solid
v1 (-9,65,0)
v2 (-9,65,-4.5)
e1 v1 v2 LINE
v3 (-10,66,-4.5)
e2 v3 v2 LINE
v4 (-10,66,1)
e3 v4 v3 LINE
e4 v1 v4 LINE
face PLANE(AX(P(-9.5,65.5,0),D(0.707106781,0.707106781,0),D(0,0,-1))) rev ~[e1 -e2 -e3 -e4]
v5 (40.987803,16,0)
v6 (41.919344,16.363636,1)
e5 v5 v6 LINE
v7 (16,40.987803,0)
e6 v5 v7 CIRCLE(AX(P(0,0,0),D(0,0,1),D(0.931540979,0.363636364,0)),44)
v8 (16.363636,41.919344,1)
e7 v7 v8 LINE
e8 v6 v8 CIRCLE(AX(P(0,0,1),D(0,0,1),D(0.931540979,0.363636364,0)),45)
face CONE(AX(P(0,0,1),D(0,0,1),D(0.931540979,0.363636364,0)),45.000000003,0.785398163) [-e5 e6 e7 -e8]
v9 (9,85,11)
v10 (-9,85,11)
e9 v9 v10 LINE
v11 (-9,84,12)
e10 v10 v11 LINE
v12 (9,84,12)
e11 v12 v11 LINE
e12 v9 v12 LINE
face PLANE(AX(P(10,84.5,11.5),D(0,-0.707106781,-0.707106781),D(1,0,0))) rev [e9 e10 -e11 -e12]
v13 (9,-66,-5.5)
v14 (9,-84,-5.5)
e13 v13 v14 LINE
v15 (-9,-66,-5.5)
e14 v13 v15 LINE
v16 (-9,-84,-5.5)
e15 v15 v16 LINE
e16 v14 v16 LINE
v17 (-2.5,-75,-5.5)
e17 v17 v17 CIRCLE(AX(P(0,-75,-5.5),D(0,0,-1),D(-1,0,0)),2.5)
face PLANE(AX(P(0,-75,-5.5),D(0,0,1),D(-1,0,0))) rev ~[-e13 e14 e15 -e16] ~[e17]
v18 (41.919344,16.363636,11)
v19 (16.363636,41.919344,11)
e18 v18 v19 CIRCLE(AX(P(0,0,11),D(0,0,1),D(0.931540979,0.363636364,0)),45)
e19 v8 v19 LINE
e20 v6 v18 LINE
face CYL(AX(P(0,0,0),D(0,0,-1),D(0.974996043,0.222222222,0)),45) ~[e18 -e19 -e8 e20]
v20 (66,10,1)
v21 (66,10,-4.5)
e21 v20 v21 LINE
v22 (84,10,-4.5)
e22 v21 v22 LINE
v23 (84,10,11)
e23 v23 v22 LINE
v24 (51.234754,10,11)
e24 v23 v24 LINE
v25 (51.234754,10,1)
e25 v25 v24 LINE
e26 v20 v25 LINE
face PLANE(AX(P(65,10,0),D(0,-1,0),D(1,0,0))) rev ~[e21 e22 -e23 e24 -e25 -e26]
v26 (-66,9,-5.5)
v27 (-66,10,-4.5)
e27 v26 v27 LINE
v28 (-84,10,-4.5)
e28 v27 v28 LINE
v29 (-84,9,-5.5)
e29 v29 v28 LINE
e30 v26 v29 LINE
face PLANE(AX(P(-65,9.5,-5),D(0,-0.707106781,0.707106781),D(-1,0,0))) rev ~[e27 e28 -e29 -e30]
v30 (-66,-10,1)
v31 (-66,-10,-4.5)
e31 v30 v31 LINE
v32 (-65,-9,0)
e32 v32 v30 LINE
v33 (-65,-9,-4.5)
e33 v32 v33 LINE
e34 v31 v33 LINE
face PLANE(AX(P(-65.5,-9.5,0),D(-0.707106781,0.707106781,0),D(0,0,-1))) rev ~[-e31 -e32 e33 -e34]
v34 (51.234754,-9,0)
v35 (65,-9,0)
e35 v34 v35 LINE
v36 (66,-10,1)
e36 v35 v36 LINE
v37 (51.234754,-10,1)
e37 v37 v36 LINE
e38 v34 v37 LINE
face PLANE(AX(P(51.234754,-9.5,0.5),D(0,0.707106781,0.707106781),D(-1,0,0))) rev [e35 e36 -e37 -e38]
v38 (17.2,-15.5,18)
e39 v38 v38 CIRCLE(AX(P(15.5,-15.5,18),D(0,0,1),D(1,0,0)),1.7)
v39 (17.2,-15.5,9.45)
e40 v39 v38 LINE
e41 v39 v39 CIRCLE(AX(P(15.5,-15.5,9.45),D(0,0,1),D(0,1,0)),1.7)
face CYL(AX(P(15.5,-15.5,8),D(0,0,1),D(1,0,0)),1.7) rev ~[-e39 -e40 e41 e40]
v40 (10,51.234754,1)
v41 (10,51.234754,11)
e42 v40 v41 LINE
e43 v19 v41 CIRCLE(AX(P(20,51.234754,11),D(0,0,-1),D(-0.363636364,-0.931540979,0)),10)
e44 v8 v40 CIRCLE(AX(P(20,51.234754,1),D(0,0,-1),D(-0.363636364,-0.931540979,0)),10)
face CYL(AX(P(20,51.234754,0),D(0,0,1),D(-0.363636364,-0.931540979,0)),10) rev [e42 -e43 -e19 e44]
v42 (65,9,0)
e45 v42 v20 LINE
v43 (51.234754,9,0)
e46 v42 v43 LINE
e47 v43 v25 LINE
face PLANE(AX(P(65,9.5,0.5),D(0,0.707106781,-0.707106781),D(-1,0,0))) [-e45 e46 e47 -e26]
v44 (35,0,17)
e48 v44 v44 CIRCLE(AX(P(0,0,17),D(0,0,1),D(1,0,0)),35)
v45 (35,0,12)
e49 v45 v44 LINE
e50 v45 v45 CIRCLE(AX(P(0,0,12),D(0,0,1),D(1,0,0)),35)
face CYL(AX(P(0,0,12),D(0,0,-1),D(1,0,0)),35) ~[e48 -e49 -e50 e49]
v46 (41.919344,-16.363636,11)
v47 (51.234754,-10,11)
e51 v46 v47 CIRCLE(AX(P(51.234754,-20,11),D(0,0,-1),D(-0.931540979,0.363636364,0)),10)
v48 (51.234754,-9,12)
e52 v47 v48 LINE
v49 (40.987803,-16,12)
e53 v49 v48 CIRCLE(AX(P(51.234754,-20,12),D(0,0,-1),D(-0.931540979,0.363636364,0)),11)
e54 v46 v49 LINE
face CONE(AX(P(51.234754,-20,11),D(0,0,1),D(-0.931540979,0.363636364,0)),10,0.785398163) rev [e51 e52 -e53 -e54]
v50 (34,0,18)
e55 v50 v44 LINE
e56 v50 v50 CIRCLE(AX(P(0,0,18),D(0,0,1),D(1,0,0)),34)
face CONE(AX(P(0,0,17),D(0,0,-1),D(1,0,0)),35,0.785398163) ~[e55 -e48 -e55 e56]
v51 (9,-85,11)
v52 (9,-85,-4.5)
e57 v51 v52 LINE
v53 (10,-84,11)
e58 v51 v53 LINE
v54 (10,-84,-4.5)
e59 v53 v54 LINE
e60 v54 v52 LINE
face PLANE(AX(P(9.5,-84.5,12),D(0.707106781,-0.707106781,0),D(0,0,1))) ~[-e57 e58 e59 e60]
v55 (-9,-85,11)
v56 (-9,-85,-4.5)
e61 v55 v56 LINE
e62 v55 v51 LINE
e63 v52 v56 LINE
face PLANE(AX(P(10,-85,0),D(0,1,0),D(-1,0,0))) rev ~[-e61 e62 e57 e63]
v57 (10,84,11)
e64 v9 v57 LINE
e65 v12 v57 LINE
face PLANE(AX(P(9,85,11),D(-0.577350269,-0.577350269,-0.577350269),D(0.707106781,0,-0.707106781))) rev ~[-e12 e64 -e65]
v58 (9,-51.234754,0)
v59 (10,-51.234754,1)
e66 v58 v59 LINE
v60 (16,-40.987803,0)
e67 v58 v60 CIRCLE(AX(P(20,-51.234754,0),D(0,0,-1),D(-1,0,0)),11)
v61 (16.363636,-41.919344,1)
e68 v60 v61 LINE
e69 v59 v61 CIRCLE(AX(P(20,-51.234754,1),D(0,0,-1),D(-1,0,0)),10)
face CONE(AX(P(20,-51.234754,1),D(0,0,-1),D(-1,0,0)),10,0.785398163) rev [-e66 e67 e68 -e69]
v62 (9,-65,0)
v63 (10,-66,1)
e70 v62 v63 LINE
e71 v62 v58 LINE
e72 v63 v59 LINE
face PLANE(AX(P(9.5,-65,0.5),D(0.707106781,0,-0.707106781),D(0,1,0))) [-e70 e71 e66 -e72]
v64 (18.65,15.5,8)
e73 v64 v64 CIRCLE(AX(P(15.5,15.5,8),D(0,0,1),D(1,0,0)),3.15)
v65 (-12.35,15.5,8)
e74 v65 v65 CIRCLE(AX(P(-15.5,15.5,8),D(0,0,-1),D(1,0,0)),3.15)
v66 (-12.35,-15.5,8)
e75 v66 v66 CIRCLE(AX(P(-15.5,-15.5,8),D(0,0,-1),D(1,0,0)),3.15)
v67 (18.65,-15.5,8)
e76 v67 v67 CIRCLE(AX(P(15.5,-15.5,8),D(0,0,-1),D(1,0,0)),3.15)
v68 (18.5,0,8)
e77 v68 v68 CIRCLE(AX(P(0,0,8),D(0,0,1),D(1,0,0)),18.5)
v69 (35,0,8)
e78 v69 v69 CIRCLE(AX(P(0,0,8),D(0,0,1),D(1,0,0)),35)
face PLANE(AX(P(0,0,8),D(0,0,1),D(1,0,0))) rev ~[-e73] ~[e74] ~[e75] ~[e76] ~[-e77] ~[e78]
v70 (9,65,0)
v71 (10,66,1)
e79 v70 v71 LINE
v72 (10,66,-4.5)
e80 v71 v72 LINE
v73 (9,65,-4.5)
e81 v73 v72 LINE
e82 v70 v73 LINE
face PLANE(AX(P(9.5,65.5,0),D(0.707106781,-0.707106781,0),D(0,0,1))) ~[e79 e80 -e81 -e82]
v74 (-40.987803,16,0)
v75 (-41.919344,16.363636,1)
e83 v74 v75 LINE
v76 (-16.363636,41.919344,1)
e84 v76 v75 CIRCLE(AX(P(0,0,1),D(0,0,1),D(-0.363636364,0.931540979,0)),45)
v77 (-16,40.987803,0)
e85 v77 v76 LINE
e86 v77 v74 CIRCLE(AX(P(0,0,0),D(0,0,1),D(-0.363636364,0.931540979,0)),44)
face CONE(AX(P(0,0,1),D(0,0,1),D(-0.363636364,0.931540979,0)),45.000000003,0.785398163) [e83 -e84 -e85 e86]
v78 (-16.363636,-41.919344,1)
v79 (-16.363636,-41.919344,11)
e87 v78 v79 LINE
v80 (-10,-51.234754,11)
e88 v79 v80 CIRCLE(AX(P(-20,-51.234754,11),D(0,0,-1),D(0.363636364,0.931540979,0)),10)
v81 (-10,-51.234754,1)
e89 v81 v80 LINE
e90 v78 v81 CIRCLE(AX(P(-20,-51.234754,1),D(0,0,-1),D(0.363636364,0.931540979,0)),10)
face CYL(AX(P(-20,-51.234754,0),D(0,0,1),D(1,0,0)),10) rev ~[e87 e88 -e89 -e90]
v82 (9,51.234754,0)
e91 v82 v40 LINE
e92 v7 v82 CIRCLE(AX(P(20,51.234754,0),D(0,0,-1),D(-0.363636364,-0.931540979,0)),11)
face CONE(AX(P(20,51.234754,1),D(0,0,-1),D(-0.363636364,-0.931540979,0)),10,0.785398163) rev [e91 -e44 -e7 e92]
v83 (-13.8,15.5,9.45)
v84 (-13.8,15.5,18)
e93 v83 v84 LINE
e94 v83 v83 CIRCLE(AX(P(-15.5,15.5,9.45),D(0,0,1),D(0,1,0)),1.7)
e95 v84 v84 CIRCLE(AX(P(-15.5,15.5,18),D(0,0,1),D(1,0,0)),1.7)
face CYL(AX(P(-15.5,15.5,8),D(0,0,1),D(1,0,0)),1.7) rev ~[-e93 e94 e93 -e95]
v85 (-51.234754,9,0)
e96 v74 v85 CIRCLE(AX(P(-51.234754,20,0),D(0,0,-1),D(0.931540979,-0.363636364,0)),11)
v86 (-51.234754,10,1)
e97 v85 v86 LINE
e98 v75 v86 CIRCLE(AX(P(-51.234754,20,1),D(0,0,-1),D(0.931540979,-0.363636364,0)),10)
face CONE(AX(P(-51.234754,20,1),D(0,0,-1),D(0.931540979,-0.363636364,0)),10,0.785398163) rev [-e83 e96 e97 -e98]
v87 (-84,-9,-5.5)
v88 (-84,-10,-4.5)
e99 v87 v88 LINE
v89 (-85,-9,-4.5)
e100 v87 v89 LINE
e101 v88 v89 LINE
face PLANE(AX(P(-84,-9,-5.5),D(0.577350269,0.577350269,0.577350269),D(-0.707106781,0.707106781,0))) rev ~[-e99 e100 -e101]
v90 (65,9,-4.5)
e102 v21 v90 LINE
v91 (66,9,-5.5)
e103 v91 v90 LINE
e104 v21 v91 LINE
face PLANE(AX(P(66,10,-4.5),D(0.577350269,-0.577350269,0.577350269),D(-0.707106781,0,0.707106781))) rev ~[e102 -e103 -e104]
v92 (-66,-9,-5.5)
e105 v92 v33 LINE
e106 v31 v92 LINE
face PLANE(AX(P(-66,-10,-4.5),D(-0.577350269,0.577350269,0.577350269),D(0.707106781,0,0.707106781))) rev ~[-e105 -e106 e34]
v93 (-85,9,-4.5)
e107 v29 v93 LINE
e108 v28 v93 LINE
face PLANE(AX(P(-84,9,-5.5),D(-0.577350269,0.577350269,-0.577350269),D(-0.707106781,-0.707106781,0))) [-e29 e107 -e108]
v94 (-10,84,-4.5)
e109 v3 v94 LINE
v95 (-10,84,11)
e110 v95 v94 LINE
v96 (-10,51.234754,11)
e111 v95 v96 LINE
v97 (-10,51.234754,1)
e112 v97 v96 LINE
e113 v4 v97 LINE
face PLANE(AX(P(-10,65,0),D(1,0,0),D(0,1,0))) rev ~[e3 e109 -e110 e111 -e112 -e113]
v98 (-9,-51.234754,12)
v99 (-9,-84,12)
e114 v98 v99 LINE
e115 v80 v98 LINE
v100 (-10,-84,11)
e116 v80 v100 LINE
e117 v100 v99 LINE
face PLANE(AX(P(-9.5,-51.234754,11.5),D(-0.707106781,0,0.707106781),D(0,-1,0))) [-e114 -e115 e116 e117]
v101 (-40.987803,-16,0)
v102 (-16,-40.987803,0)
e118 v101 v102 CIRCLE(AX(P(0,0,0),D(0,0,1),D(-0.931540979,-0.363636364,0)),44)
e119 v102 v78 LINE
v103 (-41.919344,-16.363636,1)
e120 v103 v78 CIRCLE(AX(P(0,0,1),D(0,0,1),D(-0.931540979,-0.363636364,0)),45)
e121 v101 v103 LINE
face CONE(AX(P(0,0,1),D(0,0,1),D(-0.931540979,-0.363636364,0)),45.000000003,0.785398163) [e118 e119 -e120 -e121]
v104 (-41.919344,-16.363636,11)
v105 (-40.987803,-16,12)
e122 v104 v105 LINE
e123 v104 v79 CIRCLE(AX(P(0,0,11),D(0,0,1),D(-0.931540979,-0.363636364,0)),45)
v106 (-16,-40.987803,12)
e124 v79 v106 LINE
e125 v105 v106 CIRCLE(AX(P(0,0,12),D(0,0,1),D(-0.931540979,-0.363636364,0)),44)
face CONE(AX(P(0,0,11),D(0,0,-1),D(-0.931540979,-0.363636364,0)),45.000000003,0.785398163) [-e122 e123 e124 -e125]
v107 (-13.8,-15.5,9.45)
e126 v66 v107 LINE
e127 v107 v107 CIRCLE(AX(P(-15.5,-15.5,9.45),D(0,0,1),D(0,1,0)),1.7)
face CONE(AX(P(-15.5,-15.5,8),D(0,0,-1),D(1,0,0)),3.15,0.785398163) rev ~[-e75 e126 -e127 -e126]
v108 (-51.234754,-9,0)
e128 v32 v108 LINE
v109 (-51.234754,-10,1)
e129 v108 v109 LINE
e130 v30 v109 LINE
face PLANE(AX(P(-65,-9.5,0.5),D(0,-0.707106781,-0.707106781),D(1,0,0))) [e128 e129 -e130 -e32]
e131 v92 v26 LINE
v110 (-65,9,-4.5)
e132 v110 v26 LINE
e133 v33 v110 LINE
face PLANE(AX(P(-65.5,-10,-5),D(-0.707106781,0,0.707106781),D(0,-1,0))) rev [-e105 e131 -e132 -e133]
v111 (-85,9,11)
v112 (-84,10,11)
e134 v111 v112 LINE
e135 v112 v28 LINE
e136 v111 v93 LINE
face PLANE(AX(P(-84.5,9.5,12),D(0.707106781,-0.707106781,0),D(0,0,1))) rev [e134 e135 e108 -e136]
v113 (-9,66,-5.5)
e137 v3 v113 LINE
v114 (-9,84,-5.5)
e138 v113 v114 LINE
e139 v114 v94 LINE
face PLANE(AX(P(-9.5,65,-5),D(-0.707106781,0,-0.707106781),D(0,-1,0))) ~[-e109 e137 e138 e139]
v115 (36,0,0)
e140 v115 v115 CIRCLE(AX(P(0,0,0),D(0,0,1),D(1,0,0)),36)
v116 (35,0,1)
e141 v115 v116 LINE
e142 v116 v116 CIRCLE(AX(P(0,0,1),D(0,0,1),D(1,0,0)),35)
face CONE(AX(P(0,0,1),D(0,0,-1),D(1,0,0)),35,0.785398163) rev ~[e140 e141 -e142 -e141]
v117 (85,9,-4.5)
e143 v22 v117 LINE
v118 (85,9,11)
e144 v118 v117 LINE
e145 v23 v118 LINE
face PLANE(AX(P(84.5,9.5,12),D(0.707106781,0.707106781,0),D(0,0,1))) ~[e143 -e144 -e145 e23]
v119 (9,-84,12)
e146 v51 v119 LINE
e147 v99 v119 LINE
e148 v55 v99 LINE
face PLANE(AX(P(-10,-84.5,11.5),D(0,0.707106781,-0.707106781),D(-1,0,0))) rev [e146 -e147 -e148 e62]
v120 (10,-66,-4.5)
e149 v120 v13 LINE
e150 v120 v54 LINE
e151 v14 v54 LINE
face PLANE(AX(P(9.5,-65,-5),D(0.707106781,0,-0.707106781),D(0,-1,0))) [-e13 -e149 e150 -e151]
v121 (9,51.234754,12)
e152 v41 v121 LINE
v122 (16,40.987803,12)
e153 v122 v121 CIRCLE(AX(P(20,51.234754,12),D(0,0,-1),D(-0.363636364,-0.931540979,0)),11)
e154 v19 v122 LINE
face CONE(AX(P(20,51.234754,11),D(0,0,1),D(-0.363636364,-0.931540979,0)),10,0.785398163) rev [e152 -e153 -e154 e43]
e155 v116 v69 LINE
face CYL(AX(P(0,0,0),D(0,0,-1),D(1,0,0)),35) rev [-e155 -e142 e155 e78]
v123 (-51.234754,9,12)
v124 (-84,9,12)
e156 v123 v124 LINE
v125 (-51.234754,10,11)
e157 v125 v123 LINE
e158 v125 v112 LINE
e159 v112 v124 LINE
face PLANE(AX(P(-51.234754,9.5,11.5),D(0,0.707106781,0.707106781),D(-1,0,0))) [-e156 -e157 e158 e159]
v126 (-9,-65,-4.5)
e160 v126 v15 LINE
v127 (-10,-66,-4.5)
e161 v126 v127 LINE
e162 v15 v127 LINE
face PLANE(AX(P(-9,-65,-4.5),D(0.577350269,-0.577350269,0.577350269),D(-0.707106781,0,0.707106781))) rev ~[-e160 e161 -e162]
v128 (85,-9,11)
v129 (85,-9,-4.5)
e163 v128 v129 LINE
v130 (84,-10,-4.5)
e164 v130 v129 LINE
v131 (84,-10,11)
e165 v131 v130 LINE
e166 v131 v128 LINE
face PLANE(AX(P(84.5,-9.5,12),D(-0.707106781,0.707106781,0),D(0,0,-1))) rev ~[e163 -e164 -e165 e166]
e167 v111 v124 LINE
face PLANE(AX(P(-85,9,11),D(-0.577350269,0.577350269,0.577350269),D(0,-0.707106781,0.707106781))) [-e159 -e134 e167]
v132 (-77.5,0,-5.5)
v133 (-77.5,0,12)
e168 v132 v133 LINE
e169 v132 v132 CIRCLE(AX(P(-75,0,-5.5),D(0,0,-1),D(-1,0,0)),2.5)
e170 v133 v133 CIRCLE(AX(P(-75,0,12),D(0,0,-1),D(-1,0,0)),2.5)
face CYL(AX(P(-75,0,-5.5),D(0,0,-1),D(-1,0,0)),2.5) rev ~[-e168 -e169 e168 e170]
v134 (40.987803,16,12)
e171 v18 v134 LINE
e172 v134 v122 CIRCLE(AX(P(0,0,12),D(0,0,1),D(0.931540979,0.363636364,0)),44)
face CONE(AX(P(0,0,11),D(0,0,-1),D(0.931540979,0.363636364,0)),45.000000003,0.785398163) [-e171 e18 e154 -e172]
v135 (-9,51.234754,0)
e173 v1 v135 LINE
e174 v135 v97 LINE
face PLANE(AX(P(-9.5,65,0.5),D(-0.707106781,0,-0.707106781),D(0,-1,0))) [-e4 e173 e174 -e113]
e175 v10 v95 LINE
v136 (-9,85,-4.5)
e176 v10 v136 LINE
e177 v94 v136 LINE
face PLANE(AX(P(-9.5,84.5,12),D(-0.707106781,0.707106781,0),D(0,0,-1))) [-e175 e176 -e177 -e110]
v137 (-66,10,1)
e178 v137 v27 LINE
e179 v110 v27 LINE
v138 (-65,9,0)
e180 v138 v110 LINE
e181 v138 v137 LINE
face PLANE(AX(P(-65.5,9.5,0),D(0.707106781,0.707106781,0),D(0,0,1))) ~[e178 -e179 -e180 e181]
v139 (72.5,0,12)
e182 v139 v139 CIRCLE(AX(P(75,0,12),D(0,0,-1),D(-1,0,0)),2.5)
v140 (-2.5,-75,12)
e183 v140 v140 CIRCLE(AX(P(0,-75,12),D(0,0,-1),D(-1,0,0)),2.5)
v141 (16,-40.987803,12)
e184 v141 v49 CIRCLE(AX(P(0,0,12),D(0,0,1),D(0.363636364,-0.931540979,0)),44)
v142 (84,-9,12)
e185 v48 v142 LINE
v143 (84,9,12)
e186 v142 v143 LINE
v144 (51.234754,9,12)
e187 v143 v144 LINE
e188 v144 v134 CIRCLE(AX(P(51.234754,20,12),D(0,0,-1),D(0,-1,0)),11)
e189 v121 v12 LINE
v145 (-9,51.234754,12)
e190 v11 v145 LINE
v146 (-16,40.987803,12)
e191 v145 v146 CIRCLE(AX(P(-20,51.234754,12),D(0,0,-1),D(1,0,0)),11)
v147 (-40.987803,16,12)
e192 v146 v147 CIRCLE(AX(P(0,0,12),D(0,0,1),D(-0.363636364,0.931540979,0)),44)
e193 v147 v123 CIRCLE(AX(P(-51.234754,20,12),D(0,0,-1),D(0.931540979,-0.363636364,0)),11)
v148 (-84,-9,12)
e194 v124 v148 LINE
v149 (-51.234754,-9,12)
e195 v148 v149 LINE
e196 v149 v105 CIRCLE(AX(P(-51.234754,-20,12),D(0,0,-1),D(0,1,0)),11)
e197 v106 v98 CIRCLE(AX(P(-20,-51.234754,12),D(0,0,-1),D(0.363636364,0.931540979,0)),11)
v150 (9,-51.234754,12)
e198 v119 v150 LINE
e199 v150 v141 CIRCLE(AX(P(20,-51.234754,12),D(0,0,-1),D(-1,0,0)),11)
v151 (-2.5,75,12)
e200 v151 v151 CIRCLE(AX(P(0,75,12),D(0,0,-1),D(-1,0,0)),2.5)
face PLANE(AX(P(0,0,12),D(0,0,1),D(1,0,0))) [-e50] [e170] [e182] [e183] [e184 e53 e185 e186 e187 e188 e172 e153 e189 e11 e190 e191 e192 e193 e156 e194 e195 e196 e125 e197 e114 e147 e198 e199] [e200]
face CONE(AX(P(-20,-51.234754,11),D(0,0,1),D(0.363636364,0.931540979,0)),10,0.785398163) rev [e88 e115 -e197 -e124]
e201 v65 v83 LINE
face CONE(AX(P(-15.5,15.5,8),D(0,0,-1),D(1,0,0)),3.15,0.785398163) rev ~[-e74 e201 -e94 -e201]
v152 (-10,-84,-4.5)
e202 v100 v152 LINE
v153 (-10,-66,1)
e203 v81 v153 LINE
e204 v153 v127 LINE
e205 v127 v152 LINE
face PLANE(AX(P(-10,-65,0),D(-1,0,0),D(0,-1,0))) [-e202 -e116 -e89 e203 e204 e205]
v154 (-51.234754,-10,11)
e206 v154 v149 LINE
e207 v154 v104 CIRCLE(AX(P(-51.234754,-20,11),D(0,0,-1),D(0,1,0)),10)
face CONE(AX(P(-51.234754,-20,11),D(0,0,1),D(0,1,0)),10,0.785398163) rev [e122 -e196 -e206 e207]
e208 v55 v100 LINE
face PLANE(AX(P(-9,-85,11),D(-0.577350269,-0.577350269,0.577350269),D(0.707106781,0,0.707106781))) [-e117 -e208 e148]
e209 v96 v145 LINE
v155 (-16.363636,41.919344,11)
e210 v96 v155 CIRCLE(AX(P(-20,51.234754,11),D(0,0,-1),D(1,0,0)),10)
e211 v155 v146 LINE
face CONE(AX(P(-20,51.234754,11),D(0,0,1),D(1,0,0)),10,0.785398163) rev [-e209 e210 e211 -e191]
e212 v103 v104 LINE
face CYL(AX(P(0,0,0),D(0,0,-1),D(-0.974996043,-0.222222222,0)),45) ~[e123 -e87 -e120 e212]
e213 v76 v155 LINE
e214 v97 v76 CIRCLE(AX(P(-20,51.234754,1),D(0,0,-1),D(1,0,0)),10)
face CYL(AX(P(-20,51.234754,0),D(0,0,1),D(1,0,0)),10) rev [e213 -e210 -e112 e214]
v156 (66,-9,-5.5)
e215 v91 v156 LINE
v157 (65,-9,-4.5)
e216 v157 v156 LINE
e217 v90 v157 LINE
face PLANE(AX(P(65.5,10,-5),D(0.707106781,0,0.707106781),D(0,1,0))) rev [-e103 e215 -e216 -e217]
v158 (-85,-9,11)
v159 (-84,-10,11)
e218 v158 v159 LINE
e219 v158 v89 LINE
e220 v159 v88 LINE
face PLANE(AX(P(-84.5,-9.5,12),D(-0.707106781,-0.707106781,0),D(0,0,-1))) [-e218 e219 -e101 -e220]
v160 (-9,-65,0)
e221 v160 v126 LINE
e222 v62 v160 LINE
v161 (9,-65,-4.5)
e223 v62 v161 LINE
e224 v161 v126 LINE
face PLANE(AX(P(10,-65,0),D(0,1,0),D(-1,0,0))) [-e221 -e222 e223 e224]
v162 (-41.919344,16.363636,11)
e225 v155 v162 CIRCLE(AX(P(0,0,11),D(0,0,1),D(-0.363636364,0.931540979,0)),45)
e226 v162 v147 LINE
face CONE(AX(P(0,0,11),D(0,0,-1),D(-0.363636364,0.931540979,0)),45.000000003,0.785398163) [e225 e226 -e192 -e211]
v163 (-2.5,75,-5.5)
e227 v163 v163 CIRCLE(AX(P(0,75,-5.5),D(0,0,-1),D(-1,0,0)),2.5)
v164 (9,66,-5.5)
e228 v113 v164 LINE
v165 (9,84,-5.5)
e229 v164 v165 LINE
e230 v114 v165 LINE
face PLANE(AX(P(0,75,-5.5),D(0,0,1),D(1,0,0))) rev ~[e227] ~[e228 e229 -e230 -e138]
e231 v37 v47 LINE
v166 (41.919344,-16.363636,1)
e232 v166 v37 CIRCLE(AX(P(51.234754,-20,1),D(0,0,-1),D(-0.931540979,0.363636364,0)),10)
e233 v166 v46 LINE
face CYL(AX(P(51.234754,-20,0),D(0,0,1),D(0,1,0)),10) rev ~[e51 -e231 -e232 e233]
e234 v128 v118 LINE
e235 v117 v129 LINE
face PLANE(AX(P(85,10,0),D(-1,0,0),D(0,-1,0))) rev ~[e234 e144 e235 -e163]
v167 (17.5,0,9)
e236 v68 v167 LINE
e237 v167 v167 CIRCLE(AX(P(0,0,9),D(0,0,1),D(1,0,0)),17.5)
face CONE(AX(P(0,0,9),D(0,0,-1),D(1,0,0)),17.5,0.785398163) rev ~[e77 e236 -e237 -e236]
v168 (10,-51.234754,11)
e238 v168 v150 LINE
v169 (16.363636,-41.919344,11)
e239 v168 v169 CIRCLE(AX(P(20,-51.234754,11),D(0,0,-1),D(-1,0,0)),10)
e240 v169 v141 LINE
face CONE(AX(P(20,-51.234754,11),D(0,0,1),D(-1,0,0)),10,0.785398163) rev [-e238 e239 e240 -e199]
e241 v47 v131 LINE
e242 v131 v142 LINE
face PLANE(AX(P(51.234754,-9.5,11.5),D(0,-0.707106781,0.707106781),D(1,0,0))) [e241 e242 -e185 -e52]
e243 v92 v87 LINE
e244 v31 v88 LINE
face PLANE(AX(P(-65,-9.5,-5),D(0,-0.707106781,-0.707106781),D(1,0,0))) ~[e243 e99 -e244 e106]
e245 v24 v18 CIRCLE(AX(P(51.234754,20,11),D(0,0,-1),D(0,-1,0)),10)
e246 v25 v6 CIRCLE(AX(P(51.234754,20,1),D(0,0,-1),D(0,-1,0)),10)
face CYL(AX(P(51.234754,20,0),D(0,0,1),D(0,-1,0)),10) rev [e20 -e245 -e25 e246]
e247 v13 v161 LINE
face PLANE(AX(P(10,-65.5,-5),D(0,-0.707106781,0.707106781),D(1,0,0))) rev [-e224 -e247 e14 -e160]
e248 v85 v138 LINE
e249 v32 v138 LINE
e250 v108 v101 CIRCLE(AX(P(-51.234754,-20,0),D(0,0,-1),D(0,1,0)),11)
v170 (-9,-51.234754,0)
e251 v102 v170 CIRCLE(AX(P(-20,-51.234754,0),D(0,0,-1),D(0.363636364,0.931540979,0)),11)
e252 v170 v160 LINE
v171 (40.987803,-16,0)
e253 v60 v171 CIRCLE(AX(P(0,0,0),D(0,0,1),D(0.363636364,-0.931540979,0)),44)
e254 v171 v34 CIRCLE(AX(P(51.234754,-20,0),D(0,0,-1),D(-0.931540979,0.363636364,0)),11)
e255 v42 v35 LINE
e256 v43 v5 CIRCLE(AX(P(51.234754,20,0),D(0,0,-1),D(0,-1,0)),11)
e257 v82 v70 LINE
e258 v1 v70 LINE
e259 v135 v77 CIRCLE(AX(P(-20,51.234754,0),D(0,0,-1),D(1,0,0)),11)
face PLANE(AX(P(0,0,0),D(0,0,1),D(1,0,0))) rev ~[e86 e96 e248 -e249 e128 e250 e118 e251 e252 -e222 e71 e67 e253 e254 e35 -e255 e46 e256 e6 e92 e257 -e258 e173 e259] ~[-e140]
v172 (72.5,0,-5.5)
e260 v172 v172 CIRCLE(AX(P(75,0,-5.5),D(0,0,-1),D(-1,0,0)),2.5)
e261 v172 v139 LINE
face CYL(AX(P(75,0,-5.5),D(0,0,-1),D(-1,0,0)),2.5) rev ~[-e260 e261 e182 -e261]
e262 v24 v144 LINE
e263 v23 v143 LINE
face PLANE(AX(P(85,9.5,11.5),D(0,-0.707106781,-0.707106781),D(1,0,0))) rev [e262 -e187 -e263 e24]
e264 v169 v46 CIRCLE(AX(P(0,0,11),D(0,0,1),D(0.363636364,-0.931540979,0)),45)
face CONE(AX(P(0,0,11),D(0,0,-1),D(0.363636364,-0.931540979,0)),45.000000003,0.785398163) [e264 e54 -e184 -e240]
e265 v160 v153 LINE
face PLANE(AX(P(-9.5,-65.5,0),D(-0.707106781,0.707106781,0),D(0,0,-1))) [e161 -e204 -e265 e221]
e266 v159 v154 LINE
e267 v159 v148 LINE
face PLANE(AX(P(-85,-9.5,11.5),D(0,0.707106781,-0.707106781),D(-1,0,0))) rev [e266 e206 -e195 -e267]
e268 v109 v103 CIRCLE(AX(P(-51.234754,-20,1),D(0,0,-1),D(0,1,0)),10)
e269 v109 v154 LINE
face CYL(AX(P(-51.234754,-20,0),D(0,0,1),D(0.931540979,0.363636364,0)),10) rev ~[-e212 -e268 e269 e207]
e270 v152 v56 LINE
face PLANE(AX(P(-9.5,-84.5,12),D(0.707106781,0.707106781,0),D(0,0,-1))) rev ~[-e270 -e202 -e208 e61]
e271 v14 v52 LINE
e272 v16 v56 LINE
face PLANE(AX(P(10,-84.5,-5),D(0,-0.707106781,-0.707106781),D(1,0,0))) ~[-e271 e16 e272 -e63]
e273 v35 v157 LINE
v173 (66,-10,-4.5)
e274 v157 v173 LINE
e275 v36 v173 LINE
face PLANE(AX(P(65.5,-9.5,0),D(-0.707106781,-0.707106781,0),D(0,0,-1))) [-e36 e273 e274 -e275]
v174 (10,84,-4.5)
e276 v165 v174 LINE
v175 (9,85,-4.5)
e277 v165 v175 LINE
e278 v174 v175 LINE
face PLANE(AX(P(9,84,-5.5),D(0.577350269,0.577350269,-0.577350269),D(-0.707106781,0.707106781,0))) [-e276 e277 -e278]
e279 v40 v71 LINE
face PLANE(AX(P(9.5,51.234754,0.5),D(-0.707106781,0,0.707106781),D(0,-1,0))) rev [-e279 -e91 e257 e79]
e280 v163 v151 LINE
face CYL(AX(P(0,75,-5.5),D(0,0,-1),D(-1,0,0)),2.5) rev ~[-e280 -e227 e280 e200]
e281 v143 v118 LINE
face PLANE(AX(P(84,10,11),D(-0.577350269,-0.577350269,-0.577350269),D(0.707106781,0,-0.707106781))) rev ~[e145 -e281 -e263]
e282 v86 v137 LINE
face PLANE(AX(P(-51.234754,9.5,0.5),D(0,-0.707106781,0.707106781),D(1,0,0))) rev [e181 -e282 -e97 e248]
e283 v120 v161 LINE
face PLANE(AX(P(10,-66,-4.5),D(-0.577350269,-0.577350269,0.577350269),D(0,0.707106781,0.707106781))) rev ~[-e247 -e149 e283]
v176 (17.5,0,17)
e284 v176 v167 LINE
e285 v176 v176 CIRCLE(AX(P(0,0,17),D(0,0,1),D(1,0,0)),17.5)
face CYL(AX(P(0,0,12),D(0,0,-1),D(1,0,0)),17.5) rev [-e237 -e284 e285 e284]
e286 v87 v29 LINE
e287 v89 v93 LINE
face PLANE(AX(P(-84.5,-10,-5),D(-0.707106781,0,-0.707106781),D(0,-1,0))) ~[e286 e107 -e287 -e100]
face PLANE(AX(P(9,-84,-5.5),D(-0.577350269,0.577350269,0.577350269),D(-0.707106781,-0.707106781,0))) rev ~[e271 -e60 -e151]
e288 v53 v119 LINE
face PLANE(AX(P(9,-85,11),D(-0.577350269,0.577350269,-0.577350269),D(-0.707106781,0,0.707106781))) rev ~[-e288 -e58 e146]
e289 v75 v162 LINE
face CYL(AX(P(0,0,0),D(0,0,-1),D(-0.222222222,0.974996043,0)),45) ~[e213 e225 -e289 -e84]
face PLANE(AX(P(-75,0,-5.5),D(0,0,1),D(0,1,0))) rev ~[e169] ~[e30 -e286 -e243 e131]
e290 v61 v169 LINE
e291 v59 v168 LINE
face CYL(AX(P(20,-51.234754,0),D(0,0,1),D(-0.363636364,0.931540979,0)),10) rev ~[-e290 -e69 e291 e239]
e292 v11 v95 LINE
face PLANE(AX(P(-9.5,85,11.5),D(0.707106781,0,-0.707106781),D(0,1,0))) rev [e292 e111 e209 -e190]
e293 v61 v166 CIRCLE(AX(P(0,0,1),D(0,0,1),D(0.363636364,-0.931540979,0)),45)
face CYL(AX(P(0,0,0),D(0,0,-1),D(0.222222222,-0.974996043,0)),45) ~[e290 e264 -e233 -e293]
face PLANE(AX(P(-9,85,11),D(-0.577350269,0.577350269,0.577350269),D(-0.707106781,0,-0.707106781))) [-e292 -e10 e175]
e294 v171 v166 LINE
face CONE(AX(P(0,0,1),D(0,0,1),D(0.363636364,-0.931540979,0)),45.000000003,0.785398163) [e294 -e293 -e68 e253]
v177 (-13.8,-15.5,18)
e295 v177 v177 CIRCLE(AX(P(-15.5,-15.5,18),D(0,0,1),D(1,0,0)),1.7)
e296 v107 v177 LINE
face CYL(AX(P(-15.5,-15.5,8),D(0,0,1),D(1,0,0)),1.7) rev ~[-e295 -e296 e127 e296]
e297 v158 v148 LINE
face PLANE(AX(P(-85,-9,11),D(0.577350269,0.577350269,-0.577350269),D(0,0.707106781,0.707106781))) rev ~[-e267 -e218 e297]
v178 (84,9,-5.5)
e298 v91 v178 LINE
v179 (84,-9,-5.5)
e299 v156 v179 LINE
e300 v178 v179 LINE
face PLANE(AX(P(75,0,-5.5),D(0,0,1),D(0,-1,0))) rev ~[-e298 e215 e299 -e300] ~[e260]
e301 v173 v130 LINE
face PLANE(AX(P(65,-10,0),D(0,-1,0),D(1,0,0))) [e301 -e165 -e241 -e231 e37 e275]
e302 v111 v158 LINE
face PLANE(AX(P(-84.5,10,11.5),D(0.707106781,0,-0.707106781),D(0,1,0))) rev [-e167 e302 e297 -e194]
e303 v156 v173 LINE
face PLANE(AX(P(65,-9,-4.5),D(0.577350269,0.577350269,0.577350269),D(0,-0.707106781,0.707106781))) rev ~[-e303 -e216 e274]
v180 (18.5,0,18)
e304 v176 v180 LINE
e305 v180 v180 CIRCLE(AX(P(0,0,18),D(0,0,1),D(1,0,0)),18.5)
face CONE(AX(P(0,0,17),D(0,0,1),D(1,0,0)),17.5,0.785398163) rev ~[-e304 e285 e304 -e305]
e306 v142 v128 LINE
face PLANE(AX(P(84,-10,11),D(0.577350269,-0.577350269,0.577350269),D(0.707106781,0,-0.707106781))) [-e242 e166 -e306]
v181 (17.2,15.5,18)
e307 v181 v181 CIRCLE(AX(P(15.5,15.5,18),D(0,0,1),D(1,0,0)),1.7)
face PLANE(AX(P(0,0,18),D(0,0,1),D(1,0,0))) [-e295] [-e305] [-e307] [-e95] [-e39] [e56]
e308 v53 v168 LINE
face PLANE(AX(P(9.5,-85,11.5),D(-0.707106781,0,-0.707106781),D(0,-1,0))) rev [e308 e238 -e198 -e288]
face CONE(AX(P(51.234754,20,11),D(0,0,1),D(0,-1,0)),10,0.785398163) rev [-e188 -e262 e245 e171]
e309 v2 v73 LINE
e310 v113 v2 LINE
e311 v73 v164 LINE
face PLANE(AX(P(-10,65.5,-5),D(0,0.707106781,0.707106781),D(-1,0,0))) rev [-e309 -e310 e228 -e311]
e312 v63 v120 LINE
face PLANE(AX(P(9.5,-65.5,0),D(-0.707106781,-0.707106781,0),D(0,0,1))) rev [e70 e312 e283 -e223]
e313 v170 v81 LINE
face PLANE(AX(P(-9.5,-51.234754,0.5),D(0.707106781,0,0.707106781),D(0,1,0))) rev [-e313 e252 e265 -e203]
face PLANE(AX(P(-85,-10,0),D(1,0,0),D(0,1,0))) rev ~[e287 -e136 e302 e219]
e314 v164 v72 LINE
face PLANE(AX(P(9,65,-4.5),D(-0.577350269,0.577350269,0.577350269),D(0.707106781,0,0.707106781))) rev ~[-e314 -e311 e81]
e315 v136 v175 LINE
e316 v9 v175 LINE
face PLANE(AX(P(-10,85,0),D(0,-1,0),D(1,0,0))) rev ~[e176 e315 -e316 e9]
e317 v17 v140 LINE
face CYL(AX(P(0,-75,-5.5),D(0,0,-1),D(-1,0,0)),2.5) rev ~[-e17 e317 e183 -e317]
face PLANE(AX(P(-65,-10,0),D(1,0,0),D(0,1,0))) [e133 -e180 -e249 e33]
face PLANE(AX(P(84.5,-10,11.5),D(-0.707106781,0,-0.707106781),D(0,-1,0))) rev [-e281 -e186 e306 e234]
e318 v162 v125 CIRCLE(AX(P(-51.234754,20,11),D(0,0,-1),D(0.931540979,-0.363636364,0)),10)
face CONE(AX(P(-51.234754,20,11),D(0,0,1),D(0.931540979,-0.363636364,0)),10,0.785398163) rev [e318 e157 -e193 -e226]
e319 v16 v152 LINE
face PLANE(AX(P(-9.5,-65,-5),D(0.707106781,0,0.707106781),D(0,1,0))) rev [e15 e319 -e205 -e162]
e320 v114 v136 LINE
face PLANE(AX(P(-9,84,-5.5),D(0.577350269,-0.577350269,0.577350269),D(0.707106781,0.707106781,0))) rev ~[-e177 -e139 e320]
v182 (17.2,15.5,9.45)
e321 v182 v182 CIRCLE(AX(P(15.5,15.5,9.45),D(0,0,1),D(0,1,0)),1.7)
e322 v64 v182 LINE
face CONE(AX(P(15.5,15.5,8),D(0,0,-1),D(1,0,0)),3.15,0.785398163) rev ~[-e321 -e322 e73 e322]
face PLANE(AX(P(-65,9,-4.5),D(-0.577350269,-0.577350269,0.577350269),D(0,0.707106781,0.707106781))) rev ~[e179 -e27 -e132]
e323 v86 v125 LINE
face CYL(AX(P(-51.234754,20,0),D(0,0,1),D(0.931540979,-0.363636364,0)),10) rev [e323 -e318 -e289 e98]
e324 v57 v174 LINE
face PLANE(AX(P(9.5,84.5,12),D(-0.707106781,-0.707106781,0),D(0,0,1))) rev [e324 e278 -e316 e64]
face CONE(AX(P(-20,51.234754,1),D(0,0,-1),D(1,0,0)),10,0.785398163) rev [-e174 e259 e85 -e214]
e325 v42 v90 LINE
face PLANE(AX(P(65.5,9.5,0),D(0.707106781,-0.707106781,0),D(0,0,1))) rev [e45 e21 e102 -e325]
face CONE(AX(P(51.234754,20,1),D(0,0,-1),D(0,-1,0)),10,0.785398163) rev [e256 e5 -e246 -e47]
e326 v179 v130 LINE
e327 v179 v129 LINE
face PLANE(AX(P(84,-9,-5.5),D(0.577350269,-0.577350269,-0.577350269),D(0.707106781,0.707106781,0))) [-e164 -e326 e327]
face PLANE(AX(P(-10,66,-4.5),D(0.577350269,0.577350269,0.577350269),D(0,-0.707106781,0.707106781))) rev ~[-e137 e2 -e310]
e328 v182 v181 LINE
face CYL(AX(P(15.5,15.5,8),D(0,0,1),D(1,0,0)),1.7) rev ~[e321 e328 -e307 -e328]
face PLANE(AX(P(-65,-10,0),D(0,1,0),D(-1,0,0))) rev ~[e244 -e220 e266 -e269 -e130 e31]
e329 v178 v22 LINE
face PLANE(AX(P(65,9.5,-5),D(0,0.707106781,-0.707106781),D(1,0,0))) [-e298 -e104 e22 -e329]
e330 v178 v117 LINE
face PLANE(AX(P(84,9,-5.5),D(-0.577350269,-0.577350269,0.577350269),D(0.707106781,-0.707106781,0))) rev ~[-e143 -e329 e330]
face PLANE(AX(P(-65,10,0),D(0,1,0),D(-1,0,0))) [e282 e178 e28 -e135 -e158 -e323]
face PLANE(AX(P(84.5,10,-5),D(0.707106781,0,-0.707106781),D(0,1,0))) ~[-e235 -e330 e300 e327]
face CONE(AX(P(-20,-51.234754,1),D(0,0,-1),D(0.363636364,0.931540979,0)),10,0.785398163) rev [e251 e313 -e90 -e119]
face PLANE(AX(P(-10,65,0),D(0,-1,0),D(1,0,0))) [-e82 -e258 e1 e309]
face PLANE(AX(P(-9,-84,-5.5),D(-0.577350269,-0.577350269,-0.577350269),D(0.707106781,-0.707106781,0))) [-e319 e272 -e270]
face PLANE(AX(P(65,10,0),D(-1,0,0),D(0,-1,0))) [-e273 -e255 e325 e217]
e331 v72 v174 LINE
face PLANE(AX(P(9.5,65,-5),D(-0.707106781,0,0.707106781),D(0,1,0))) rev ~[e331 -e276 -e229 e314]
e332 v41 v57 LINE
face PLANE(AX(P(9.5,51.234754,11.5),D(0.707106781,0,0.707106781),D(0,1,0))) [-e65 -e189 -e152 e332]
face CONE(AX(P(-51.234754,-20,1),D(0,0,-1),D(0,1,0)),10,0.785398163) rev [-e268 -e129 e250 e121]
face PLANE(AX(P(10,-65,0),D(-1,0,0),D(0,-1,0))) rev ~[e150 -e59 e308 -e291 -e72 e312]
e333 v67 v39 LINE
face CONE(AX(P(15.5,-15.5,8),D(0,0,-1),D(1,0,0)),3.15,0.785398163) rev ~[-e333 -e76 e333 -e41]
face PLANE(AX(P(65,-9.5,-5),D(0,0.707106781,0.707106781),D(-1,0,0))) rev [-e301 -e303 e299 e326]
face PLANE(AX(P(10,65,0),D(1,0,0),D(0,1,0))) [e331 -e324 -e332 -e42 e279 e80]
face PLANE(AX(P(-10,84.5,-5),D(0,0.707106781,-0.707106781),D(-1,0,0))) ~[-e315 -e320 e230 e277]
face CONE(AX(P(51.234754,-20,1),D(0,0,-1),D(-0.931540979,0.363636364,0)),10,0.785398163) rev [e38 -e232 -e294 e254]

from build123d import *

# Parameters (mm, degrees)
SKETCH1_R                                           = 35
BOSS_EXTRUDE1_DEPTH                                 = 12
BOSS_EXTRUDE2_START                                 = -4
SKETCH2_R                                           = 35
SKETCH2_R_2                                         = 17.5
BOSS_EXTRUDE2_DEPTH                                 = 4
SKETCH3_W                                           = 20
SKETCH3_H                                           = 20
BOSS_EXTRUDE3_DEPTH                                 = 5.5
CIRPATTERN1_COUNT                                   = 4
CUT_EXTRUDE1_REACH                                  = 123.475
SKETCH4_R                                           = 2.5
FILLET2_R                                           = 10
SKETCH5_R                                           = 35
SKETCH5_R_2                                         = 17.5
BOSS_EXTRUDE4_DEPTH                                 = 6
CSK_FOR_M3_COUNTERSUNK_FLAT_HEAD_SCREW1_D           = 3.4
CSK_FOR_M3_COUNTERSUNK_FLAT_HEAD_SCREW1_CSINK_D     = 6.3
CSK_FOR_M3_COUNTERSUNK_FLAT_HEAD_SCREW1_CSINK_ANGLE = 90
CHAMFER1_SIZE                                       = 1
CHAMFER2_SIZE                                       = 1


with BuildPart() as part:
    # Sketch1 → Boss-Extrude1 (new body)
    with BuildSketch(Plane.XY):
        with BuildLine():
            Line((43.874821937, -10), (85, -10))
            Line((85, -10), (85, 10))
            Line((85, 10), (43.874821937, 10))
            ThreePointArc((43.874821937, 10), (31.819805153, 31.819805153), (10, 43.874821937))
            Line((10, 43.874821937), (10, 85))
            Line((10, 85), (-10, 85))
            Line((-10, 85), (-10, 43.874821937))
            ThreePointArc((-10, 43.874821937), (-31.819805153, 31.819805153), (-43.874821937, 10))
            Line((-43.874821937, 10), (-85, 10))
            Line((-85, 10), (-85, -10))
            Line((-85, -10), (-43.874821937, -10))
            ThreePointArc((-43.874821937, -10), (-31.819805153, -31.819805153), (-10, -43.874821937))
            Line((-10, -43.874821937), (-10, -85))
            Line((-10, -85), (10, -85))
            Line((10, -85), (10, -43.874821937))
            ThreePointArc((10, -43.874821937), (31.819805153, -31.819805153), (43.874821937, -10))
        make_face()
        Circle(SKETCH1_R, mode=Mode.SUBTRACT)
    extrude(amount=BOSS_EXTRUDE1_DEPTH)

    # Sketch2 → Boss-Extrude2 (add)
    with BuildSketch(Plane.XY.offset(12).offset(BOSS_EXTRUDE2_START)):
        Circle(SKETCH2_R)
        Circle(SKETCH2_R_2, mode=Mode.SUBTRACT)
    extrude(amount=BOSS_EXTRUDE2_DEPTH)

    # Sketch3 → Boss-Extrude3 (add)
    with BuildSketch(Plane.XY):
        with Locations((0, 75)):
            Rectangle(SKETCH3_W, SKETCH3_H)
    boss_extrude3 = extrude(amount=-BOSS_EXTRUDE3_DEPTH)

    # CirPattern1: Boss-Extrude3 ×4 about axis
    cirpattern1_axis = Axis((0, 0, 0), (0, 0, 1))
    for i in range(1, CIRPATTERN1_COUNT):
        add(boss_extrude3.rotate(cirpattern1_axis, i * 360 / CIRPATTERN1_COUNT))

    # Sketch4 → Cut-Extrude1 (cut, up to next)
    with BuildSketch(Plane(origin=(0, 0, -5.5), x_dir=(-1, 0, 0), z_dir=(0, 0, -1)), mode=Mode.PRIVATE) as cut_extrude1_sk1:
        with Locations((0, 75)):
            Circle(SKETCH4_R)
    cut_extrude1_tool1 = extrude(cut_extrude1_sk1.sketch, amount=-CUT_EXTRUDE1_REACH, mode=Mode.PRIVATE) & part.part
    # Sketch4 → Cut-Extrude1 (cut, up to next)
    with BuildSketch(Plane(origin=(0, 0, -5.5), x_dir=(-1, 0, 0), z_dir=(0, 0, -1)), mode=Mode.PRIVATE) as cut_extrude1_sk2:
        with Locations((-75, 0)):
            Circle(SKETCH4_R)
    cut_extrude1_tool2 = extrude(cut_extrude1_sk2.sketch, amount=-CUT_EXTRUDE1_REACH, mode=Mode.PRIVATE) & part.part
    # Sketch4 → Cut-Extrude1 (cut, up to next)
    with BuildSketch(Plane(origin=(0, 0, -5.5), x_dir=(-1, 0, 0), z_dir=(0, 0, -1)), mode=Mode.PRIVATE) as cut_extrude1_sk3:
        with Locations((0, -75)):
            Circle(SKETCH4_R)
    cut_extrude1_tool3 = extrude(cut_extrude1_sk3.sketch, amount=-CUT_EXTRUDE1_REACH, mode=Mode.PRIVATE) & part.part
    # Sketch4 → Cut-Extrude1 (cut, up to next)
    with BuildSketch(Plane(origin=(0, 0, -5.5), x_dir=(-1, 0, 0), z_dir=(0, 0, -1)), mode=Mode.PRIVATE) as cut_extrude1_sk4:
        with Locations((75, 0)):
            Circle(SKETCH4_R)
    cut_extrude1_tool4 = extrude(cut_extrude1_sk4.sketch, amount=-CUT_EXTRUDE1_REACH, mode=Mode.PRIVATE) & part.part
    add(cut_extrude1_tool1.solids().sort_by_distance((0, 75, -5.5))[0], mode=Mode.SUBTRACT)
    add(cut_extrude1_tool2.solids().sort_by_distance((75, 0, -5.5))[0], mode=Mode.SUBTRACT)
    add(cut_extrude1_tool3.solids().sort_by_distance((0, -75, -5.5))[0], mode=Mode.SUBTRACT)
    add(cut_extrude1_tool4.solids().sort_by_distance((-75, 0, -5.5))[0], mode=Mode.SUBTRACT)

    # Fillet2
    fillet2_edges = [part.edges().sort_by_distance(p)[0] for p in [
        (10, -43.874821937, 6),
        (-10, -43.874821937, 6),
        (-43.874821937, -10, 6),
        (-43.874821937, 10, 6),
        (-10, 43.874821937, 6),
        (10, 43.874821937, 6),
        (43.874821937, 10, 6),
        (43.874821937, -10, 6),
    ]]
    fillet(fillet2_edges, radius=FILLET2_R)

    # Sketch5 → Boss-Extrude4 (add)
    with BuildSketch(Plane.XY.offset(12)):
        Circle(SKETCH5_R)
        Circle(SKETCH5_R_2, mode=Mode.SUBTRACT)
    extrude(amount=BOSS_EXTRUDE4_DEPTH)

    # CSK for M3 Countersunk Flat Head Screw1 (through all)
    with Locations(Plane(origin=(-15.5, 15.5, 8), x_dir=(-1, 0, 0), z_dir=(0, 0, -1))):
        with Locations((0, 0), (-31, 0), (-31, -31), (0, -31)):
            CounterSinkHole(CSK_FOR_M3_COUNTERSUNK_FLAT_HEAD_SCREW1_D / 2, CSK_FOR_M3_COUNTERSUNK_FLAT_HEAD_SCREW1_CSINK_D / 2, counter_sink_angle=CSK_FOR_M3_COUNTERSUNK_FLAT_HEAD_SCREW1_CSINK_ANGLE)

    # Chamfer1
    chamfer1_edges = [part.edges().sort_by_distance(p)[0] for p in [
        (85, 0, 12),
        (-58.117376915, 10, 0),
        (-68.117376915, 10, 12),
        (-31.819805153, 31.819805153, 0),
        (-31.819805153, 31.819805153, 12),
        (-31.819805153, -31.819805153, 0),
        (-31.819805153, -31.819805153, 12),
        (68.117376915, 10, 12),
        (-10, -58.117376915, 0),
        (-10, -68.117376915, 12),
        (31.819805153, -31.819805153, 0),
        (31.819805153, -31.819805153, 12),
        (58.117376915, -10, 0),
        (68.117376915, -10, 12),
        (31.819805153, 31.819805153, 0),
        (31.819805153, 31.819805153, 12),
        (10, 58.117376915, 0),
        (10, 68.117376915, 12),
        (-45.593993082, 11.742771762, 0),
        (-45.593993082, 11.742771762, 12),
        (-11.742771762, 45.593993082, 0),
        (-11.742771762, 45.593993082, 12),
        (-45.593993082, -11.742771762, 0),
        (-45.593993082, -11.742771762, 12),
        (-11.742771762, -45.593993082, 0),
        (-11.742771762, -45.593993082, 12),
        (11.742771762, -45.593993082, 0),
        (11.742771762, -45.593993082, 12),
        (45.593993082, -11.742771762, 0),
        (45.593993082, -11.742771762, 12),
        (45.593993082, 11.742771762, 0),
        (45.593993082, 11.742771762, 12),
        (11.742771762, 45.593993082, 0),
        (11.742771762, 45.593993082, 12),
        (0, 85, 12),
        (-10, 68.117376915, 12),
        (10, -85, 3.25),
        (-10, -85, 3.25),
        (-85, -10, 3.25),
        (-85, 10, 3.25),
        (-10, 85, 3.25),
        (10, 85, 3.25),
        (85, 10, 3.25),
        (85, -10, 3.25),
        (-85, 0, 12),
        (-68.117376915, -10, 12),
        (0, -85, 12),
        (10, -68.117376915, 12),
        (-10, 58.117376915, 0),
        (10, 75, -5.5),
        (0, 65, -5.5),
        (10, 65, -2.75),
        (-10, 75, -5.5),
        (-10, 65, -2.75),
        (0, 85, -5.5),
        (58.117376915, 10, 0),
        (75, -10, -5.5),
        (65, 0, -5.5),
        (65, -10, -2.75),
        (75, 10, -5.5),
        (65, 10, -2.75),
        (85, 0, -5.5),
        (10, -58.117376915, 0),
        (-10, -75, -5.5),
        (0, -65, -5.5),
        (-10, -65, -2.75),
        (10, -75, -5.5),
        (10, -65, -2.75),
        (0, -85, -5.5),
        (-58.117376915, -10, 0),
        (-75, 10, -5.5),
        (-65, 0, -5.5),
        (-65, 10, -2.75),
        (-75, -10, -5.5),
        (-65, -10, -2.75),
        (-85, 0, -5.5),
    ]]
    chamfer(chamfer1_edges, length=CHAMFER1_SIZE)

    # Chamfer2
    chamfer2_edges = [part.edges().sort_by_distance(p)[0] for p in [
        (-35, 0, 18),
        (-17.5, 0, 18),
        (-35, 0, 0),
        (-17.5, 0, 8),
    ]]
    chamfer(chamfer2_edges, length=CHAMFER2_SIZE)


solid = part.part
